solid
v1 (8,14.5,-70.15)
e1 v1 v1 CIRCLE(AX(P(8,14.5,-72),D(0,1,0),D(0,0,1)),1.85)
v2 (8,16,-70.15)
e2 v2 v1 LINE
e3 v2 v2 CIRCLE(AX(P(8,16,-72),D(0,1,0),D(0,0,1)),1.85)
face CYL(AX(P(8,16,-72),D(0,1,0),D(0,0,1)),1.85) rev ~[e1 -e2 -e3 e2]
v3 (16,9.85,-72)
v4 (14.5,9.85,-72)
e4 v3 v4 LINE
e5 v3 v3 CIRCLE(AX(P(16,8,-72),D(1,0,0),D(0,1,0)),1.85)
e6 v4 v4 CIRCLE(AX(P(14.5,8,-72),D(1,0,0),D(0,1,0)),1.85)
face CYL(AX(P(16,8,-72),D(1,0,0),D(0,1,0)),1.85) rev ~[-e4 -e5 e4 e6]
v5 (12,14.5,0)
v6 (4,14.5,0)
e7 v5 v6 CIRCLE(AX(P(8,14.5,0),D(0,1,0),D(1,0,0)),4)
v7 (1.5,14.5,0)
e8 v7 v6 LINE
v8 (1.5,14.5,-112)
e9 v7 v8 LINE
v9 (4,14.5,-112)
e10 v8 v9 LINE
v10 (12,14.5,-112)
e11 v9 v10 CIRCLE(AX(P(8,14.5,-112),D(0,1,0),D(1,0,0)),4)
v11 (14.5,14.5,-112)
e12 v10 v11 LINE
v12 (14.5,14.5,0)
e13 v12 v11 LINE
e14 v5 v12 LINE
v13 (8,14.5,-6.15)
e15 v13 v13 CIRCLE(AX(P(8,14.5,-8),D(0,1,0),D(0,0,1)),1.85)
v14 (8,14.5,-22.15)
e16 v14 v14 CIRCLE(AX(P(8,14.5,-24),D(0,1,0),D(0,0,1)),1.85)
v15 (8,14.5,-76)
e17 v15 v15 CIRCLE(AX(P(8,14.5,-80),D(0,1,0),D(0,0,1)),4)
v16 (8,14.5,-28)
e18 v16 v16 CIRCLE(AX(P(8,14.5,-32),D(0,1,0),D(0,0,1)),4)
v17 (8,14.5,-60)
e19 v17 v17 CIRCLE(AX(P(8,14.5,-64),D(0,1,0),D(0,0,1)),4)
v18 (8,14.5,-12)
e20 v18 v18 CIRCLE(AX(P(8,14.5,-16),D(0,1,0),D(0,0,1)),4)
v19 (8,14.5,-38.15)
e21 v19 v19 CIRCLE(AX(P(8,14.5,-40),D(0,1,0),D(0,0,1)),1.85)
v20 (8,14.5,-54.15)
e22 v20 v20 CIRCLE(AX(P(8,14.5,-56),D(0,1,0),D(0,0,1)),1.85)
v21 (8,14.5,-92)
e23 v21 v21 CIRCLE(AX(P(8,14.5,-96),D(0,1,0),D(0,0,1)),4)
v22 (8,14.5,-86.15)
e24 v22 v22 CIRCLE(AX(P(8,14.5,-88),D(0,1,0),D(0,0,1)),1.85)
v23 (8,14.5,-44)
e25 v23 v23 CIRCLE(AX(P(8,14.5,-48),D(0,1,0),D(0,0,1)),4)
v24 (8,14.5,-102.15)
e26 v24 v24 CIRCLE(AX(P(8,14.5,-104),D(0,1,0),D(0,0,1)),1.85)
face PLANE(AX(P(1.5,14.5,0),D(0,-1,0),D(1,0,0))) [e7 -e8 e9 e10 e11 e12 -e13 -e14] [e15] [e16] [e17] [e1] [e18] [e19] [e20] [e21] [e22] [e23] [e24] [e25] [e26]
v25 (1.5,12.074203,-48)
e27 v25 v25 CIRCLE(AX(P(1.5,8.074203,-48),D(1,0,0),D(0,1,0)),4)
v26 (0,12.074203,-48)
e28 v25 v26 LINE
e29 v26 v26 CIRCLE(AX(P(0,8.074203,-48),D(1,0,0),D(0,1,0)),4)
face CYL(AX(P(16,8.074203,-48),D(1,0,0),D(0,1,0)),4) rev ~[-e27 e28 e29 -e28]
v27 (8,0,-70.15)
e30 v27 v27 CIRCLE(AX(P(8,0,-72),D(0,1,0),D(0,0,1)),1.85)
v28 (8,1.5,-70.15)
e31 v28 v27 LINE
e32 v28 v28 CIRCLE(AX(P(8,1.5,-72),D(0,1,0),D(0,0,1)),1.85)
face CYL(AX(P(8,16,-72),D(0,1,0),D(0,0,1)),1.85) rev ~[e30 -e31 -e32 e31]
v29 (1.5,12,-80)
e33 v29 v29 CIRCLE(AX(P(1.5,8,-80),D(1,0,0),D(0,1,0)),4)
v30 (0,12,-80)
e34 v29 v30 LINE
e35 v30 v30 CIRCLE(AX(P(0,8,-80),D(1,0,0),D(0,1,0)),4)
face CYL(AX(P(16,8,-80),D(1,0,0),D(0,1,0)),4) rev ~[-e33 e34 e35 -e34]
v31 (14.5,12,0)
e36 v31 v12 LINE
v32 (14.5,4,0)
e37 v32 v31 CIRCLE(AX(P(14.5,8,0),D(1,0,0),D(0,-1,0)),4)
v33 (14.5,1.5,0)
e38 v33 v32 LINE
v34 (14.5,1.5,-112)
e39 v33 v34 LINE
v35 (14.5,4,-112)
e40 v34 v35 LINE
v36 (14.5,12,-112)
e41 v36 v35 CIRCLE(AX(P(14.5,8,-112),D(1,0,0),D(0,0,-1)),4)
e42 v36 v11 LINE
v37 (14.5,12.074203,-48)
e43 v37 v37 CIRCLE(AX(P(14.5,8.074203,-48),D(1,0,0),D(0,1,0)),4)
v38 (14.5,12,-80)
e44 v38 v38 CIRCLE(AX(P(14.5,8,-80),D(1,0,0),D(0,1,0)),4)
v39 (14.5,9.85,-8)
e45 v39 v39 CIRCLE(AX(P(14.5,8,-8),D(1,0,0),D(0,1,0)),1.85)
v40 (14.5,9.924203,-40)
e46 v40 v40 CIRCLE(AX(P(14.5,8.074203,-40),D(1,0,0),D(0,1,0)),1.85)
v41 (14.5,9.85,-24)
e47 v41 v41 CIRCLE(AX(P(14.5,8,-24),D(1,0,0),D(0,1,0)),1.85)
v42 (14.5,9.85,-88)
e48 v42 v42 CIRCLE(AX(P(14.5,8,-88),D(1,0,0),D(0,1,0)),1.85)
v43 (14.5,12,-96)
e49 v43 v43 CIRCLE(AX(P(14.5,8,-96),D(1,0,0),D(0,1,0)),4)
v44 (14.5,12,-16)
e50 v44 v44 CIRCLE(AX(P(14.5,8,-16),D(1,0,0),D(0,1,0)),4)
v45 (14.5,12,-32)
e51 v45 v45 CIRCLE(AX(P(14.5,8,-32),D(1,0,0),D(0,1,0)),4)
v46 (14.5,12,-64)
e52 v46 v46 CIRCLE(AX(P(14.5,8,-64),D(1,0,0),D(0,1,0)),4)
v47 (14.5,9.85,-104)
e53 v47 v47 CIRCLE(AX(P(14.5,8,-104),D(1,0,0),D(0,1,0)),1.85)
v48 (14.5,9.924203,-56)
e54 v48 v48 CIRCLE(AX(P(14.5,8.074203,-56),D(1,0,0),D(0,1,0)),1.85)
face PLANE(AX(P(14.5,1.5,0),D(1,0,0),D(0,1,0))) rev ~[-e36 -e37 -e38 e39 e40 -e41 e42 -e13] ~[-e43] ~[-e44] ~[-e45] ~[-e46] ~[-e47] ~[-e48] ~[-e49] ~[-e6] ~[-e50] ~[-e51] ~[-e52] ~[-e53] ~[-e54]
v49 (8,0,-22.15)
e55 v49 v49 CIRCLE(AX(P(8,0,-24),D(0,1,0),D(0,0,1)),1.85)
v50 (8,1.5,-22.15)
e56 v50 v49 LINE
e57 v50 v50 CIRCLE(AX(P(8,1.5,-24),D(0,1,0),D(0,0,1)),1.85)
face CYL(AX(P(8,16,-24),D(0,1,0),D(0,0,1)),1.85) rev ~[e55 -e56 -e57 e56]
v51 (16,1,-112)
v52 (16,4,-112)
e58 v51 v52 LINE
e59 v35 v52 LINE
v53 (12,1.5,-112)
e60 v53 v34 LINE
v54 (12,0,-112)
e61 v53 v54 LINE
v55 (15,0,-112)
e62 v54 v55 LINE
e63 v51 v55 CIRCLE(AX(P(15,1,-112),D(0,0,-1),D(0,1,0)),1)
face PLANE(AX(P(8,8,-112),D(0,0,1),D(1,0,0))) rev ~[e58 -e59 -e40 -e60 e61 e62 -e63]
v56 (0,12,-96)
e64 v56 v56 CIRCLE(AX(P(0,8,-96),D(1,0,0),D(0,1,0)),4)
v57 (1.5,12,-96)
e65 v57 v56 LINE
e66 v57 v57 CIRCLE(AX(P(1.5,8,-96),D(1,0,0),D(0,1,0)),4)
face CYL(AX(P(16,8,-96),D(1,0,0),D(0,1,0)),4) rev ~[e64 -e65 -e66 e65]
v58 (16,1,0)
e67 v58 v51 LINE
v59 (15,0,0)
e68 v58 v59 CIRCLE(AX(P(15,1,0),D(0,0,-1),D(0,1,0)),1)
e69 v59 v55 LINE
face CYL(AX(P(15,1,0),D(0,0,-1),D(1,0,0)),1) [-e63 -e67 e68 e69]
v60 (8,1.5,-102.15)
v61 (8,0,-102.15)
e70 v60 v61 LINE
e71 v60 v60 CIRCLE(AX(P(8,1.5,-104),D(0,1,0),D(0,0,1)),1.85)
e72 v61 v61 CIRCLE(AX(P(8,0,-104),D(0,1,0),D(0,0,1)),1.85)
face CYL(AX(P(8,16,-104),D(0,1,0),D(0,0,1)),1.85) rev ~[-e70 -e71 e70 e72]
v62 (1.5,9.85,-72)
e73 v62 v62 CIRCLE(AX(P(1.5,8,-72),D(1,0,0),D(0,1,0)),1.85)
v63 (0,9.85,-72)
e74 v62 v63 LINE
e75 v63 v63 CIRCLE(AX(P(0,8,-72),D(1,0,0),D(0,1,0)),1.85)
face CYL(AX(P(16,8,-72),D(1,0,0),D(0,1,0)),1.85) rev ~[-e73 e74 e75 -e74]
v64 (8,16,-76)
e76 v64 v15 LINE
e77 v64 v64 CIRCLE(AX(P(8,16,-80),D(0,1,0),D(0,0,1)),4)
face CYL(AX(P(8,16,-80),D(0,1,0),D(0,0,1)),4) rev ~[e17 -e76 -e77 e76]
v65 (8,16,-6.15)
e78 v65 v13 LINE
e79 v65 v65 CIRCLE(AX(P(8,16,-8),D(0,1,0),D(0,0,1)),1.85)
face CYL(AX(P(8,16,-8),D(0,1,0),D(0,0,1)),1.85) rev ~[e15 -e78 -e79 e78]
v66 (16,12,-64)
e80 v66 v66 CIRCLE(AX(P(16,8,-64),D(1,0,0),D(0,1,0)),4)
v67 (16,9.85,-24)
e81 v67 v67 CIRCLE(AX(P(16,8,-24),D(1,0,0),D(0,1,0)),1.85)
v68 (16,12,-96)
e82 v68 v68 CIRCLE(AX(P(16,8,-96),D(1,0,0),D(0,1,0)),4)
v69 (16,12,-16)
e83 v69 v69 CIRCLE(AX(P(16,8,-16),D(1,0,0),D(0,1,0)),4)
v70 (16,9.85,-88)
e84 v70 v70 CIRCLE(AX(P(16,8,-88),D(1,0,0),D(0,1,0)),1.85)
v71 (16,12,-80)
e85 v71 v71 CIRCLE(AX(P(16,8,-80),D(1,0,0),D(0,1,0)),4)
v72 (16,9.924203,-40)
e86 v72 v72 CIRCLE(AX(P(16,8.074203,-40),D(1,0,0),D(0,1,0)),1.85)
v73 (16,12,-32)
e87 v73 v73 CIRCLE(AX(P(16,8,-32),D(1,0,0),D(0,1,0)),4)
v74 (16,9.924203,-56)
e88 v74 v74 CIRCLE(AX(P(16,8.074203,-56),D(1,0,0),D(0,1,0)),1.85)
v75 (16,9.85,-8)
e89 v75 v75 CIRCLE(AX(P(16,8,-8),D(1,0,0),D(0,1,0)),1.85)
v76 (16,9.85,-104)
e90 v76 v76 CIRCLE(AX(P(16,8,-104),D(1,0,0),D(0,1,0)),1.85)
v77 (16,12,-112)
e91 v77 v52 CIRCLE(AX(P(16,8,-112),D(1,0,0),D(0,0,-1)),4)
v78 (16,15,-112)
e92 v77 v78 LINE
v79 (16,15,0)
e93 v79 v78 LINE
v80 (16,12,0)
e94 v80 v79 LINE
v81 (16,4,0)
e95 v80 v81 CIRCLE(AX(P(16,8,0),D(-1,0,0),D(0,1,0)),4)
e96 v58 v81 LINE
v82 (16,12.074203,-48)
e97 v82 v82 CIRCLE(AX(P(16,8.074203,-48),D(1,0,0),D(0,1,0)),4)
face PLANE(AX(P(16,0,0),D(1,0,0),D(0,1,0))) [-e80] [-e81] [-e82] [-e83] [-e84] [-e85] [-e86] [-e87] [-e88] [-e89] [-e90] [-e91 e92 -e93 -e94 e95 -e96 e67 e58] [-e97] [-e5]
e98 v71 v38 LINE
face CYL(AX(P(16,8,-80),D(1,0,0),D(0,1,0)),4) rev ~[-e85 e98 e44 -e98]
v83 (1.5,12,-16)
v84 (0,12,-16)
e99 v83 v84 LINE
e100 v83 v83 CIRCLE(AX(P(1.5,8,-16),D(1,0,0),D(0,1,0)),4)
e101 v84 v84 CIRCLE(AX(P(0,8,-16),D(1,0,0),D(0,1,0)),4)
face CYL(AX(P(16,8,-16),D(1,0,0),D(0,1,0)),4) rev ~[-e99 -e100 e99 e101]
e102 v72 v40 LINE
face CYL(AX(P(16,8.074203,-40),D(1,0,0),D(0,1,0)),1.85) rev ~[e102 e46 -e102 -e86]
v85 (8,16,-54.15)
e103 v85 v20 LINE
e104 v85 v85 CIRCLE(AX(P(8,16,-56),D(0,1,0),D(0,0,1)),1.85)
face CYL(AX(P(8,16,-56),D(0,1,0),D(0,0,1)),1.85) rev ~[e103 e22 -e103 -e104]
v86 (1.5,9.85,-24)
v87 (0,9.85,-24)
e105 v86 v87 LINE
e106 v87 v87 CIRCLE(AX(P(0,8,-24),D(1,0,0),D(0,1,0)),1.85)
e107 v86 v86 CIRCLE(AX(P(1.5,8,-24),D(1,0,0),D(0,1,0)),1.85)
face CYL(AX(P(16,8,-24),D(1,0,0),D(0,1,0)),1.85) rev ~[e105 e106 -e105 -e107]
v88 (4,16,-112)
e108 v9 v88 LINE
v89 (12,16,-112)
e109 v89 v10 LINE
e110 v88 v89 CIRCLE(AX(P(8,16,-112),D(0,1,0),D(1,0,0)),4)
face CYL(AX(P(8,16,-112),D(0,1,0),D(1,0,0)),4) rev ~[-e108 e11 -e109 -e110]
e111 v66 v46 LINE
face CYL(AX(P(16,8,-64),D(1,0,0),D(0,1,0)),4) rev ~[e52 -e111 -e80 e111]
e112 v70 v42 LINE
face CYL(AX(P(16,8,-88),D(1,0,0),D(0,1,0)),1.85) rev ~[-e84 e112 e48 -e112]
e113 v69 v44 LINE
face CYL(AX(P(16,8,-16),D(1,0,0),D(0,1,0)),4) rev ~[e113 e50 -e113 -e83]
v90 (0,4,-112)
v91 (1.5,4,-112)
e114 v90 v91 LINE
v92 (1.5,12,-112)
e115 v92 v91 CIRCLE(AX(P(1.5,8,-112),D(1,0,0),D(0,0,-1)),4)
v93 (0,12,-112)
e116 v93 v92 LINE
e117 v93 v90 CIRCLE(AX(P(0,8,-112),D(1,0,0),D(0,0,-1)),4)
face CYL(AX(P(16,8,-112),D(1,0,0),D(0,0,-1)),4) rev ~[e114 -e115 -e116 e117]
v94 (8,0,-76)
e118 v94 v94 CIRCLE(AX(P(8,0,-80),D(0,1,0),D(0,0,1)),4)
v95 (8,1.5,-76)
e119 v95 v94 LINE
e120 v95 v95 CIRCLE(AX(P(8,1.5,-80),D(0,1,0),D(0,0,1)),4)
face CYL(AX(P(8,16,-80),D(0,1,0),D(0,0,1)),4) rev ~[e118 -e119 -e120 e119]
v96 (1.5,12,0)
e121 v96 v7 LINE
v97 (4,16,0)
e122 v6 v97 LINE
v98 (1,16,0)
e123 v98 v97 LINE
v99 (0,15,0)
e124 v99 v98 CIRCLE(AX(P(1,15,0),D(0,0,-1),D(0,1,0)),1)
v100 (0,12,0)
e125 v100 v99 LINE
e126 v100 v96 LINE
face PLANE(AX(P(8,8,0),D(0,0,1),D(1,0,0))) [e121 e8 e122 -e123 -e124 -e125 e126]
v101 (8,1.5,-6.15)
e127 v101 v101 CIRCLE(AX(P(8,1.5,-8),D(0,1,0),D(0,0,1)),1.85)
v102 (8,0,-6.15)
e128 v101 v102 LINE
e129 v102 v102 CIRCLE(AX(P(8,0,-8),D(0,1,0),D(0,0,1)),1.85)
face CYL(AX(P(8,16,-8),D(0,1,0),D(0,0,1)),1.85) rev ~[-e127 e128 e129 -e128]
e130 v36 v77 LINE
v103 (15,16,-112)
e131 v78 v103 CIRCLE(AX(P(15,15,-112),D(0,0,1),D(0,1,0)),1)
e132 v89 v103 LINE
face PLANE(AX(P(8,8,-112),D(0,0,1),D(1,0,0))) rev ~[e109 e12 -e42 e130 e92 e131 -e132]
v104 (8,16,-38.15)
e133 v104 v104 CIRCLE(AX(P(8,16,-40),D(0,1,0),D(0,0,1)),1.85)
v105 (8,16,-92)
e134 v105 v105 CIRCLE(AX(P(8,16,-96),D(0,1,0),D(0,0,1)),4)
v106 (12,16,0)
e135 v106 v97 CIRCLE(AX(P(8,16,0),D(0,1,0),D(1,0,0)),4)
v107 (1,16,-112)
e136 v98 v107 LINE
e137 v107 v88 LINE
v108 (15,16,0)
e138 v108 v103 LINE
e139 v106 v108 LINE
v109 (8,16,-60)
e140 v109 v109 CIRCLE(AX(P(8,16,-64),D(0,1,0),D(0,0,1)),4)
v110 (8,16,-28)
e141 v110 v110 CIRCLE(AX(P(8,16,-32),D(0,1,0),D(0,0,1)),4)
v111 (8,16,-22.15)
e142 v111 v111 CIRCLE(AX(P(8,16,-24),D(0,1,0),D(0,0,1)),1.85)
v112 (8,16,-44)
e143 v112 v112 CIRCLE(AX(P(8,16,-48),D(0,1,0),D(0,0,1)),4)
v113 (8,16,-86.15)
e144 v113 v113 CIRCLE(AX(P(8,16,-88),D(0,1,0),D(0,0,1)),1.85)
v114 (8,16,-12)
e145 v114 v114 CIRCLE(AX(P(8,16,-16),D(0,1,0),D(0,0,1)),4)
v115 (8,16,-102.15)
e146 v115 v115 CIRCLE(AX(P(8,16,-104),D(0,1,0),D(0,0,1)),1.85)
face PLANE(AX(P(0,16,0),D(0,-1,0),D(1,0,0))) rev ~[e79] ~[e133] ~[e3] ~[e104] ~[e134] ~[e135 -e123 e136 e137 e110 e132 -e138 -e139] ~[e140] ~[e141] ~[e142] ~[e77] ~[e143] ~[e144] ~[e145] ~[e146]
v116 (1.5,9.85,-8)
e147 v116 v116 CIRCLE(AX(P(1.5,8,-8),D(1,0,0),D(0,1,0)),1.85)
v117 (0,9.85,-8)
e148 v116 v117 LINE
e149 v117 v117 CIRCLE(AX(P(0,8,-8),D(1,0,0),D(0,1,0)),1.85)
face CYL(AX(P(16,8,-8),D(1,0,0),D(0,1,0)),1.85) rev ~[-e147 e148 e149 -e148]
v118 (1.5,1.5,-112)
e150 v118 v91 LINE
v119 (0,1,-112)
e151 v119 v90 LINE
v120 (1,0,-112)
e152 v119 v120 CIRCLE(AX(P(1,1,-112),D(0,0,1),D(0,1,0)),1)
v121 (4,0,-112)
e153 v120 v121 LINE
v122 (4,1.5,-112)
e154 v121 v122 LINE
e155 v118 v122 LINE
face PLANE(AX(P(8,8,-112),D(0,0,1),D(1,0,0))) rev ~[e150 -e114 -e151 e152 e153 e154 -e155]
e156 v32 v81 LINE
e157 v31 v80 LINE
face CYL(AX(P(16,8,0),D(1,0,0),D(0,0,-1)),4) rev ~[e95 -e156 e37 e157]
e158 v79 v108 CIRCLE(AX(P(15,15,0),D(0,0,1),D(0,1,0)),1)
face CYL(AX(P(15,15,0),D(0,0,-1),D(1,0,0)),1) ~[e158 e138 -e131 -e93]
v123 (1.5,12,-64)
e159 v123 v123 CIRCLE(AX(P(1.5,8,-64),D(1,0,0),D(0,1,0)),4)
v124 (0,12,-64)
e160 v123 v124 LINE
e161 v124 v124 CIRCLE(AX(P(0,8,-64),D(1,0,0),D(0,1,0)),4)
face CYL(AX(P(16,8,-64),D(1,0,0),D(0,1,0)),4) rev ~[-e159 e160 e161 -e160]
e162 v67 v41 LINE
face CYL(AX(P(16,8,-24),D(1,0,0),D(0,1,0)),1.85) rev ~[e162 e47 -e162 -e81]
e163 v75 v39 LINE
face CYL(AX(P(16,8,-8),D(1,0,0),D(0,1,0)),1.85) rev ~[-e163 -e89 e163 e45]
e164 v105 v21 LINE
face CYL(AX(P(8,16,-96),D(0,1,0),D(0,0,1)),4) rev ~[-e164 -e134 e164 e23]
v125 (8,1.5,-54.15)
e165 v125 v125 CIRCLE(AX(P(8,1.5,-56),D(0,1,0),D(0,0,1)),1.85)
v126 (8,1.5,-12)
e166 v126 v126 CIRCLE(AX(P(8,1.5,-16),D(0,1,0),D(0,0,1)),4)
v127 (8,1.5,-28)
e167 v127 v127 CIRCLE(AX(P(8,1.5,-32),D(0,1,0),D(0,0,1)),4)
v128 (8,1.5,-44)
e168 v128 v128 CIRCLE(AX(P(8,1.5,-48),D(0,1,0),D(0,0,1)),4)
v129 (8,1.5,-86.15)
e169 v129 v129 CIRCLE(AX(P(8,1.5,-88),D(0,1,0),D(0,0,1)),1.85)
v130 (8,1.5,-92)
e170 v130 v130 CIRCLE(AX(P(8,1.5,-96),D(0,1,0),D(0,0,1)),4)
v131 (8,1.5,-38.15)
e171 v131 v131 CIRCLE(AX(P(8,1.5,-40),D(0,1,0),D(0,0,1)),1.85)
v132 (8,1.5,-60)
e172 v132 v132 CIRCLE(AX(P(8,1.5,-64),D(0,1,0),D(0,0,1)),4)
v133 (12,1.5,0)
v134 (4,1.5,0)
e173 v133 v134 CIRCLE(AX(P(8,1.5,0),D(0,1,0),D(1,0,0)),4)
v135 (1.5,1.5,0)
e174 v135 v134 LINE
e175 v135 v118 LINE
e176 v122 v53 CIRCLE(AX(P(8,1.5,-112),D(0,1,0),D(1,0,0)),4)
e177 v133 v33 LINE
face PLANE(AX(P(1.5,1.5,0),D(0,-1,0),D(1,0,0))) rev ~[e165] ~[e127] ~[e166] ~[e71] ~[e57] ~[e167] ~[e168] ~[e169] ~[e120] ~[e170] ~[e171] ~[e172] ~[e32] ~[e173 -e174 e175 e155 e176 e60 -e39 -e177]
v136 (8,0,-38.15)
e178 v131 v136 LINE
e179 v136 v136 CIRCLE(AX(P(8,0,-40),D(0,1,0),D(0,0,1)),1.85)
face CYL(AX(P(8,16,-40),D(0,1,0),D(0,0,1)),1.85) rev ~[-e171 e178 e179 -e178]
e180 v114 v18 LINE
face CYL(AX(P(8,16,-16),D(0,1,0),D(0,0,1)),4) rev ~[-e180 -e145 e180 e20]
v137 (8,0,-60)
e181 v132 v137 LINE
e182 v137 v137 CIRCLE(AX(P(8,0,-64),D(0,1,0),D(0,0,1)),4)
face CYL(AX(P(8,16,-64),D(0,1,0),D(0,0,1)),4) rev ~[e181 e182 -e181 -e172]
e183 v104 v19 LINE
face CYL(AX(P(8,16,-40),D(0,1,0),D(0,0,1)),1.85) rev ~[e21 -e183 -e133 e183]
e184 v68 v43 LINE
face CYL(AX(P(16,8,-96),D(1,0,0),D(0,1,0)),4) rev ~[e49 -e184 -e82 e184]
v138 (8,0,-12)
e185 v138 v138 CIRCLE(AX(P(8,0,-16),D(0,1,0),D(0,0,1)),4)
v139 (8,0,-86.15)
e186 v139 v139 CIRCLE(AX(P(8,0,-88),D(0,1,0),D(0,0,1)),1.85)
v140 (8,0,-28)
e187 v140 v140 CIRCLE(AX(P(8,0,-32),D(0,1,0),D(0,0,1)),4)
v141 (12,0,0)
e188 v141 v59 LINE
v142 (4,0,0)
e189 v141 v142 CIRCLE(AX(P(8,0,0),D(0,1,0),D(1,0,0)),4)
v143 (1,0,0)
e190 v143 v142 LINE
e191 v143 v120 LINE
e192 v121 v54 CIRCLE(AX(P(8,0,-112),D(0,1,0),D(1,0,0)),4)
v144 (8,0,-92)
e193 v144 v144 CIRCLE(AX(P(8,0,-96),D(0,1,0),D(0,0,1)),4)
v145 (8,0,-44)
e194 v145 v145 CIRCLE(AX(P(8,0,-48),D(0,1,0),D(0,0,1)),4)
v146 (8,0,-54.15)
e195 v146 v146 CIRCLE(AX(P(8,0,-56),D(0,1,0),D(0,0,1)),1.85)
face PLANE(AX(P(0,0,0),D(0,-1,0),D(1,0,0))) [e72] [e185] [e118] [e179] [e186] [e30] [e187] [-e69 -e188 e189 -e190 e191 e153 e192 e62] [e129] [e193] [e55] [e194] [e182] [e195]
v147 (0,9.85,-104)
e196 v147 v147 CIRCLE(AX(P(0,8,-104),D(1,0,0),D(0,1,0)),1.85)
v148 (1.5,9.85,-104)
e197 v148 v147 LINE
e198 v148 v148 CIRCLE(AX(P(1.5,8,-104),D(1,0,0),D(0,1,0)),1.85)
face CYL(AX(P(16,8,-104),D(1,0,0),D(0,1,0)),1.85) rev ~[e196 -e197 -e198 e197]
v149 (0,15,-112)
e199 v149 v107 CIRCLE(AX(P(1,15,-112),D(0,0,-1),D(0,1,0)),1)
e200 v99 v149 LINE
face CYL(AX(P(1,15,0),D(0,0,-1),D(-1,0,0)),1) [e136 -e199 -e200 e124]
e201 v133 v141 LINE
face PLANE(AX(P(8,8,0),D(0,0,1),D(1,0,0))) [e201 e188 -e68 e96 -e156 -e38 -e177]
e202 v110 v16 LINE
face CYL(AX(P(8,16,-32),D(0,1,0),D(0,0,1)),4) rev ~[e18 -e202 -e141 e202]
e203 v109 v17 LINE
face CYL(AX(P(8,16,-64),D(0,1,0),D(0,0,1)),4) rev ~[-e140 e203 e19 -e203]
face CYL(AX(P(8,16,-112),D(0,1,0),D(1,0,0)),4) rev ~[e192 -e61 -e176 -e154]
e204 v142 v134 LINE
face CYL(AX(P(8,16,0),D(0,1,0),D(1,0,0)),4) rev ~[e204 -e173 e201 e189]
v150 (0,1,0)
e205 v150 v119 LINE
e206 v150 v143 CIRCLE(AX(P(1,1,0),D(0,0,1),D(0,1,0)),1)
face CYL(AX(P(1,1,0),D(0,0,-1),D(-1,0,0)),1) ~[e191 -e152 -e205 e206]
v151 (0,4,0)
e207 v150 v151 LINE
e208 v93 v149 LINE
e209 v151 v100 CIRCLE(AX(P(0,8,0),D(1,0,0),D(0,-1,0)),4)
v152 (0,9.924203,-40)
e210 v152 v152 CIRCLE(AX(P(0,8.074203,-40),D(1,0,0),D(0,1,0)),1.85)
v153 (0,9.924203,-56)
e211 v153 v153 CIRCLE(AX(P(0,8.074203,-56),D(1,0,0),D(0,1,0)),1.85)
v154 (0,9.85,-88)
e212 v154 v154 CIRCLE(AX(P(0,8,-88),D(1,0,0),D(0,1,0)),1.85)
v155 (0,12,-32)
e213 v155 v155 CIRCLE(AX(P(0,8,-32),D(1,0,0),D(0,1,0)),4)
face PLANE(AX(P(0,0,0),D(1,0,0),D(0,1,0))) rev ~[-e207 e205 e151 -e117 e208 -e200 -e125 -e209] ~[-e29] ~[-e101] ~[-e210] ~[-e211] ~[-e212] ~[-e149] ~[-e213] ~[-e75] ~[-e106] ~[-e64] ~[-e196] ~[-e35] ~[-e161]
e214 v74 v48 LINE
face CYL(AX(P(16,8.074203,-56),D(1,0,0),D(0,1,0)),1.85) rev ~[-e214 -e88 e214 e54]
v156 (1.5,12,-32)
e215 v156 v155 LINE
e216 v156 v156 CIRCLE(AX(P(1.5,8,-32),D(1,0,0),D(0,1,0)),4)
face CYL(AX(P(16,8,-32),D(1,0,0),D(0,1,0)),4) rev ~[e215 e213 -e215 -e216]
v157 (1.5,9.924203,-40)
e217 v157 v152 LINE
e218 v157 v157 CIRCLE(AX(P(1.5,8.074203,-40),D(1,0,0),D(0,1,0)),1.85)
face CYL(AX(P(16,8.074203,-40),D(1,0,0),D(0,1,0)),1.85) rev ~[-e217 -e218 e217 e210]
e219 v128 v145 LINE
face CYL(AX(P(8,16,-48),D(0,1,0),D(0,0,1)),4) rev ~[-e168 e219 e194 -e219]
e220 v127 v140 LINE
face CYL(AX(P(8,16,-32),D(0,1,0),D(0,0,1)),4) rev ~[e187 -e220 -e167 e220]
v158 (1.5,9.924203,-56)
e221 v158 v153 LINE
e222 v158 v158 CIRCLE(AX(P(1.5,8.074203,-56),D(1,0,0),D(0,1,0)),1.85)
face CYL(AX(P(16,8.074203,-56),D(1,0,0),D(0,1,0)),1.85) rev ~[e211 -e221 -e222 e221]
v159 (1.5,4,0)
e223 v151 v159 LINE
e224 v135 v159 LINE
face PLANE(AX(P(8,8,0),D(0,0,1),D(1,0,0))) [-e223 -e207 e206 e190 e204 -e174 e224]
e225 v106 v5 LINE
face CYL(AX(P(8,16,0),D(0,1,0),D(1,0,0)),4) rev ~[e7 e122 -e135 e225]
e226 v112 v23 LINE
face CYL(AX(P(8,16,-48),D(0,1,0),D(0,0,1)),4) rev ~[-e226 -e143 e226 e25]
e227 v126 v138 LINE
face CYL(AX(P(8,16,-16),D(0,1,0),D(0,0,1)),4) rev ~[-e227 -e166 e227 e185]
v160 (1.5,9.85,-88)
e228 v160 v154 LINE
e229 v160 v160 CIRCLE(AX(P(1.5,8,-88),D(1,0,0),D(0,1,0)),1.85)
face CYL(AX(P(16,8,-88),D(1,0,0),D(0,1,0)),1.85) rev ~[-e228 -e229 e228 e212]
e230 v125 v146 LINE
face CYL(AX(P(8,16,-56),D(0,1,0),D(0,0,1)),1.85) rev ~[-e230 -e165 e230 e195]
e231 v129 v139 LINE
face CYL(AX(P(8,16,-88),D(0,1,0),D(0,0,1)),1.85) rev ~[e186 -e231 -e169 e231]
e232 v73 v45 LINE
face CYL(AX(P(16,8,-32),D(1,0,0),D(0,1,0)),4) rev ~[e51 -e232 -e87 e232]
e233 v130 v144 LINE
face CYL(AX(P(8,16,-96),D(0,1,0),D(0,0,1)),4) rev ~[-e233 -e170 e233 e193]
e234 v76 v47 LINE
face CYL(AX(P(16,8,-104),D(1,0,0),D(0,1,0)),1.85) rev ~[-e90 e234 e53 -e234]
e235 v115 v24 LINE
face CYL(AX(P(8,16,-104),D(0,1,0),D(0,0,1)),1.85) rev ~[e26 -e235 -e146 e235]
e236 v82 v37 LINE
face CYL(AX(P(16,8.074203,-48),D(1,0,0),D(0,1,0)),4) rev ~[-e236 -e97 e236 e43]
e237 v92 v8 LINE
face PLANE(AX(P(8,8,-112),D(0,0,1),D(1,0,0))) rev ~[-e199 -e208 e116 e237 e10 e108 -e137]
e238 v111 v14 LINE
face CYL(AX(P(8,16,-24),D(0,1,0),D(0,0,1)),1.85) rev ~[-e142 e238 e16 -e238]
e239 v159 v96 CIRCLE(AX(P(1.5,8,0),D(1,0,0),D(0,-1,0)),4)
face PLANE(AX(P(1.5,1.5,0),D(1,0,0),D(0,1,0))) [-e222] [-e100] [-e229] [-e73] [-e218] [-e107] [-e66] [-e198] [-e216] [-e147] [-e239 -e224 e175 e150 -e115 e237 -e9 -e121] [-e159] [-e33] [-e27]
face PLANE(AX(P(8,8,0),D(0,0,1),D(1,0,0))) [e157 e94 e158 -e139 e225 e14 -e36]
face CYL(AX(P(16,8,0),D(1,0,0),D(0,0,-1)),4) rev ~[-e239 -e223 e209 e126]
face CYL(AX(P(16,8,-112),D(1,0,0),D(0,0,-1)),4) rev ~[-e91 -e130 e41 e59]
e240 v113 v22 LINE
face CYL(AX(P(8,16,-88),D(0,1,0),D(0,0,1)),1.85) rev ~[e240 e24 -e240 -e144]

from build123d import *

# Parameters (mm, degrees)
SKETCH1_W      = 16
SKETCH1_H      = 16
EXTRUDE1_DEPTH = 112
SKETCH2_W      = 13
SKETCH2_H      = 13
EXTRUDE2_DEPTH = 115.262854857
SKETCH3_R      = 4
SKETCH3_R_2    = 1.85
EXTRUDE3_DEPTH = 115.262854857
SKETCH4_R      = 4
SKETCH4_R_2    = 1.85
EXTRUDE4_DEPTH = 115.262854857
FILLET1_R      = 1


with BuildPart() as part:
    # Sketch1 → Extrude1 (new body)
    with BuildSketch(Plane.XY):
        with Locations((8, 8)):
            Rectangle(SKETCH1_W, SKETCH1_H)
    extrude(amount=-EXTRUDE1_DEPTH)

    # Sketch2 → Extrude2 (cut, through all)
    with BuildSketch(Plane.XY):
        with Locations((8, 8)):
            Rectangle(SKETCH2_W, SKETCH2_H)
    extrude(amount=-EXTRUDE2_DEPTH, mode=Mode.SUBTRACT)

    # Sketch3 → Extrude3 (cut, through all)
    with BuildSketch(Plane(origin=(0, 16, 0), x_dir=(1, 0, 0), z_dir=(0, 1, 0))):
        with Locations(Location((8, 64, 0), (0, 0, 270))):
            Circle(SKETCH3_R)
        with Locations(Location((8, 32, 0), (0, 0, 270))):
            Circle(SKETCH3_R)
        with Locations((8, 0)):
            Circle(SKETCH3_R)
        with Locations(Location((8, 96, 0), (0, 0, 270))):
            Circle(SKETCH3_R)
        with Locations((8, 128)):
            Circle(SKETCH3_R)
        with Locations((8, 160)):
            Circle(SKETCH3_R)
        with Locations((8, 192)):
            Circle(SKETCH3_R)
        with Locations((8, 224)):
            Circle(SKETCH3_R)
        with Locations((8, 256)):
            Circle(SKETCH3_R)
        with Locations(Location((8, 48, 0), (0, 0, 270))):
            Circle(SKETCH3_R)
        with Locations(Location((8, 56, 0), (0, 0, 270))):
            Circle(SKETCH3_R_2)
        with Locations(Location((8, 40, 0), (0, 0, 270))):
            Circle(SKETCH3_R_2)
        with Locations(Location((8, 80, 0), (0, 0, 270))):
            Circle(SKETCH3_R)
        with Locations(Location((8, 88, 0), (0, 0, 270))):
            Circle(SKETCH3_R_2)
        with Locations(Location((8, 72, 0), (0, 0, 270))):
            Circle(SKETCH3_R_2)
        with Locations(Location((8, 16, 0), (0, 0, 270))):
            Circle(SKETCH3_R)
        with Locations(Location((8, 24, 0), (0, 0, 270))):
            Circle(SKETCH3_R_2)
        with Locations(Location((8, 8, 0), (0, 0, 270))):
            Circle(SKETCH3_R_2)
        with Locations((8, 112)):
            Circle(SKETCH3_R)
        with Locations((8, 120)):
            Circle(SKETCH3_R_2)
        with Locations(Location((8, 104, 0), (0, 0, 270))):
            Circle(SKETCH3_R_2)
        with Locations((8, 144)):
            Circle(SKETCH3_R)
        with Locations((8, 152)):
            Circle(SKETCH3_R_2)
        with Locations((8, 136)):
            Circle(SKETCH3_R_2)
        with Locations((8, 176)):
            Circle(SKETCH3_R)
        with Locations((8, 184)):
            Circle(SKETCH3_R_2)
        with Locations((8, 168)):
            Circle(SKETCH3_R_2)
        with Locations((8, 208)):
            Circle(SKETCH3_R)
        with Locations((8, 216)):
            Circle(SKETCH3_R_2)
        with Locations((8, 200)):
            Circle(SKETCH3_R_2)
        with Locations((8, 240)):
            Circle(SKETCH3_R)
        with Locations((8, 248)):
            Circle(SKETCH3_R_2)
        with Locations((8, 232)):
            Circle(SKETCH3_R_2)
    extrude(amount=-EXTRUDE3_DEPTH, mode=Mode.SUBTRACT)

    # Sketch4 → Extrude4 (cut, through all)
    with BuildSketch(Plane(origin=(16, 0, 0), x_dir=(0, 0, -1), z_dir=(1, 0, 0))):
        with Locations(Location((32, 8, 0), (0, 0, 90))):
            Circle(SKETCH4_R)
        with Locations(Location((64, 8, 0), (0, 0, 90))):
            Circle(SKETCH4_R)
        with Locations((0, 8)):
            Circle(SKETCH4_R)
        with Locations(Location((96, 8, 0), (0, 0, 90))):
            Circle(SKETCH4_R)
        with Locations((128, 8)):
            Circle(SKETCH4_R)
        with Locations((160, 8)):
            Circle(SKETCH4_R)
        with Locations((192, 8)):
            Circle(SKETCH4_R)
        with Locations((224, 8)):
            Circle(SKETCH4_R)
        with Locations((256, 8)):
            Circle(SKETCH4_R)
        with Locations(Location((48, 8.074203, 0), (0, 0, 90))):
            Circle(SKETCH4_R)
        with Locations(Location((40, 8.074203, 0), (0, 0, 90))):
            Circle(SKETCH4_R_2)
        with Locations(Location((56, 8.074203, 0), (0, 0, 90))):
            Circle(SKETCH4_R_2)
        with Locations(Location((80, 8, 0), (0, 0, 90))):
            Circle(SKETCH4_R)
        with Locations(Location((72, 8, 0), (0, 0, 90))):
            Circle(SKETCH4_R_2)
        with Locations(Location((88, 8, 0), (0, 0, 90))):
            Circle(SKETCH4_R_2)
        with Locations(Location((16, 8, 0), (0, 0, 90))):
            Circle(SKETCH4_R)
        with Locations(Location((8, 8, 0), (0, 0, 90))):
            Circle(SKETCH4_R_2)
        with Locations(Location((24, 8, 0), (0, 0, 90))):
            Circle(SKETCH4_R_2)
        with Locations((112, 8)):
            Circle(SKETCH4_R)
        with Locations(Location((104, 8, 0), (0, 0, 90))):
            Circle(SKETCH4_R_2)
        with Locations((120, 8)):
            Circle(SKETCH4_R_2)
        with Locations((144, 8)):
            Circle(SKETCH4_R)
        with Locations((136, 8)):
            Circle(SKETCH4_R_2)
        with Locations((152, 8)):
            Circle(SKETCH4_R_2)
        with Locations((176, 8)):
            Circle(SKETCH4_R)
        with Locations((168, 8)):
            Circle(SKETCH4_R_2)
        with Locations((184, 8)):
            Circle(SKETCH4_R_2)
        with Locations((208, 8)):
            Circle(SKETCH4_R)
        with Locations((200, 8)):
            Circle(SKETCH4_R_2)
        with Locations((216, 8)):
            Circle(SKETCH4_R_2)
        with Locations((240, 8)):
            Circle(SKETCH4_R)
        with Locations((232, 8)):
            Circle(SKETCH4_R_2)
        with Locations((248, 8)):
            Circle(SKETCH4_R_2)
    extrude(amount=-EXTRUDE4_DEPTH, mode=Mode.SUBTRACT)

    # Fillet1
    fillet1_edges = [part.edges().sort_by_distance(p)[0] for p in [
        (0, 16, -56),
        (16, 16, -56),
        (16, 0, -56),
        (0, 0, -56),
    ]]
    fillet(fillet1_edges, radius=FILLET1_R)


solid = part.part
